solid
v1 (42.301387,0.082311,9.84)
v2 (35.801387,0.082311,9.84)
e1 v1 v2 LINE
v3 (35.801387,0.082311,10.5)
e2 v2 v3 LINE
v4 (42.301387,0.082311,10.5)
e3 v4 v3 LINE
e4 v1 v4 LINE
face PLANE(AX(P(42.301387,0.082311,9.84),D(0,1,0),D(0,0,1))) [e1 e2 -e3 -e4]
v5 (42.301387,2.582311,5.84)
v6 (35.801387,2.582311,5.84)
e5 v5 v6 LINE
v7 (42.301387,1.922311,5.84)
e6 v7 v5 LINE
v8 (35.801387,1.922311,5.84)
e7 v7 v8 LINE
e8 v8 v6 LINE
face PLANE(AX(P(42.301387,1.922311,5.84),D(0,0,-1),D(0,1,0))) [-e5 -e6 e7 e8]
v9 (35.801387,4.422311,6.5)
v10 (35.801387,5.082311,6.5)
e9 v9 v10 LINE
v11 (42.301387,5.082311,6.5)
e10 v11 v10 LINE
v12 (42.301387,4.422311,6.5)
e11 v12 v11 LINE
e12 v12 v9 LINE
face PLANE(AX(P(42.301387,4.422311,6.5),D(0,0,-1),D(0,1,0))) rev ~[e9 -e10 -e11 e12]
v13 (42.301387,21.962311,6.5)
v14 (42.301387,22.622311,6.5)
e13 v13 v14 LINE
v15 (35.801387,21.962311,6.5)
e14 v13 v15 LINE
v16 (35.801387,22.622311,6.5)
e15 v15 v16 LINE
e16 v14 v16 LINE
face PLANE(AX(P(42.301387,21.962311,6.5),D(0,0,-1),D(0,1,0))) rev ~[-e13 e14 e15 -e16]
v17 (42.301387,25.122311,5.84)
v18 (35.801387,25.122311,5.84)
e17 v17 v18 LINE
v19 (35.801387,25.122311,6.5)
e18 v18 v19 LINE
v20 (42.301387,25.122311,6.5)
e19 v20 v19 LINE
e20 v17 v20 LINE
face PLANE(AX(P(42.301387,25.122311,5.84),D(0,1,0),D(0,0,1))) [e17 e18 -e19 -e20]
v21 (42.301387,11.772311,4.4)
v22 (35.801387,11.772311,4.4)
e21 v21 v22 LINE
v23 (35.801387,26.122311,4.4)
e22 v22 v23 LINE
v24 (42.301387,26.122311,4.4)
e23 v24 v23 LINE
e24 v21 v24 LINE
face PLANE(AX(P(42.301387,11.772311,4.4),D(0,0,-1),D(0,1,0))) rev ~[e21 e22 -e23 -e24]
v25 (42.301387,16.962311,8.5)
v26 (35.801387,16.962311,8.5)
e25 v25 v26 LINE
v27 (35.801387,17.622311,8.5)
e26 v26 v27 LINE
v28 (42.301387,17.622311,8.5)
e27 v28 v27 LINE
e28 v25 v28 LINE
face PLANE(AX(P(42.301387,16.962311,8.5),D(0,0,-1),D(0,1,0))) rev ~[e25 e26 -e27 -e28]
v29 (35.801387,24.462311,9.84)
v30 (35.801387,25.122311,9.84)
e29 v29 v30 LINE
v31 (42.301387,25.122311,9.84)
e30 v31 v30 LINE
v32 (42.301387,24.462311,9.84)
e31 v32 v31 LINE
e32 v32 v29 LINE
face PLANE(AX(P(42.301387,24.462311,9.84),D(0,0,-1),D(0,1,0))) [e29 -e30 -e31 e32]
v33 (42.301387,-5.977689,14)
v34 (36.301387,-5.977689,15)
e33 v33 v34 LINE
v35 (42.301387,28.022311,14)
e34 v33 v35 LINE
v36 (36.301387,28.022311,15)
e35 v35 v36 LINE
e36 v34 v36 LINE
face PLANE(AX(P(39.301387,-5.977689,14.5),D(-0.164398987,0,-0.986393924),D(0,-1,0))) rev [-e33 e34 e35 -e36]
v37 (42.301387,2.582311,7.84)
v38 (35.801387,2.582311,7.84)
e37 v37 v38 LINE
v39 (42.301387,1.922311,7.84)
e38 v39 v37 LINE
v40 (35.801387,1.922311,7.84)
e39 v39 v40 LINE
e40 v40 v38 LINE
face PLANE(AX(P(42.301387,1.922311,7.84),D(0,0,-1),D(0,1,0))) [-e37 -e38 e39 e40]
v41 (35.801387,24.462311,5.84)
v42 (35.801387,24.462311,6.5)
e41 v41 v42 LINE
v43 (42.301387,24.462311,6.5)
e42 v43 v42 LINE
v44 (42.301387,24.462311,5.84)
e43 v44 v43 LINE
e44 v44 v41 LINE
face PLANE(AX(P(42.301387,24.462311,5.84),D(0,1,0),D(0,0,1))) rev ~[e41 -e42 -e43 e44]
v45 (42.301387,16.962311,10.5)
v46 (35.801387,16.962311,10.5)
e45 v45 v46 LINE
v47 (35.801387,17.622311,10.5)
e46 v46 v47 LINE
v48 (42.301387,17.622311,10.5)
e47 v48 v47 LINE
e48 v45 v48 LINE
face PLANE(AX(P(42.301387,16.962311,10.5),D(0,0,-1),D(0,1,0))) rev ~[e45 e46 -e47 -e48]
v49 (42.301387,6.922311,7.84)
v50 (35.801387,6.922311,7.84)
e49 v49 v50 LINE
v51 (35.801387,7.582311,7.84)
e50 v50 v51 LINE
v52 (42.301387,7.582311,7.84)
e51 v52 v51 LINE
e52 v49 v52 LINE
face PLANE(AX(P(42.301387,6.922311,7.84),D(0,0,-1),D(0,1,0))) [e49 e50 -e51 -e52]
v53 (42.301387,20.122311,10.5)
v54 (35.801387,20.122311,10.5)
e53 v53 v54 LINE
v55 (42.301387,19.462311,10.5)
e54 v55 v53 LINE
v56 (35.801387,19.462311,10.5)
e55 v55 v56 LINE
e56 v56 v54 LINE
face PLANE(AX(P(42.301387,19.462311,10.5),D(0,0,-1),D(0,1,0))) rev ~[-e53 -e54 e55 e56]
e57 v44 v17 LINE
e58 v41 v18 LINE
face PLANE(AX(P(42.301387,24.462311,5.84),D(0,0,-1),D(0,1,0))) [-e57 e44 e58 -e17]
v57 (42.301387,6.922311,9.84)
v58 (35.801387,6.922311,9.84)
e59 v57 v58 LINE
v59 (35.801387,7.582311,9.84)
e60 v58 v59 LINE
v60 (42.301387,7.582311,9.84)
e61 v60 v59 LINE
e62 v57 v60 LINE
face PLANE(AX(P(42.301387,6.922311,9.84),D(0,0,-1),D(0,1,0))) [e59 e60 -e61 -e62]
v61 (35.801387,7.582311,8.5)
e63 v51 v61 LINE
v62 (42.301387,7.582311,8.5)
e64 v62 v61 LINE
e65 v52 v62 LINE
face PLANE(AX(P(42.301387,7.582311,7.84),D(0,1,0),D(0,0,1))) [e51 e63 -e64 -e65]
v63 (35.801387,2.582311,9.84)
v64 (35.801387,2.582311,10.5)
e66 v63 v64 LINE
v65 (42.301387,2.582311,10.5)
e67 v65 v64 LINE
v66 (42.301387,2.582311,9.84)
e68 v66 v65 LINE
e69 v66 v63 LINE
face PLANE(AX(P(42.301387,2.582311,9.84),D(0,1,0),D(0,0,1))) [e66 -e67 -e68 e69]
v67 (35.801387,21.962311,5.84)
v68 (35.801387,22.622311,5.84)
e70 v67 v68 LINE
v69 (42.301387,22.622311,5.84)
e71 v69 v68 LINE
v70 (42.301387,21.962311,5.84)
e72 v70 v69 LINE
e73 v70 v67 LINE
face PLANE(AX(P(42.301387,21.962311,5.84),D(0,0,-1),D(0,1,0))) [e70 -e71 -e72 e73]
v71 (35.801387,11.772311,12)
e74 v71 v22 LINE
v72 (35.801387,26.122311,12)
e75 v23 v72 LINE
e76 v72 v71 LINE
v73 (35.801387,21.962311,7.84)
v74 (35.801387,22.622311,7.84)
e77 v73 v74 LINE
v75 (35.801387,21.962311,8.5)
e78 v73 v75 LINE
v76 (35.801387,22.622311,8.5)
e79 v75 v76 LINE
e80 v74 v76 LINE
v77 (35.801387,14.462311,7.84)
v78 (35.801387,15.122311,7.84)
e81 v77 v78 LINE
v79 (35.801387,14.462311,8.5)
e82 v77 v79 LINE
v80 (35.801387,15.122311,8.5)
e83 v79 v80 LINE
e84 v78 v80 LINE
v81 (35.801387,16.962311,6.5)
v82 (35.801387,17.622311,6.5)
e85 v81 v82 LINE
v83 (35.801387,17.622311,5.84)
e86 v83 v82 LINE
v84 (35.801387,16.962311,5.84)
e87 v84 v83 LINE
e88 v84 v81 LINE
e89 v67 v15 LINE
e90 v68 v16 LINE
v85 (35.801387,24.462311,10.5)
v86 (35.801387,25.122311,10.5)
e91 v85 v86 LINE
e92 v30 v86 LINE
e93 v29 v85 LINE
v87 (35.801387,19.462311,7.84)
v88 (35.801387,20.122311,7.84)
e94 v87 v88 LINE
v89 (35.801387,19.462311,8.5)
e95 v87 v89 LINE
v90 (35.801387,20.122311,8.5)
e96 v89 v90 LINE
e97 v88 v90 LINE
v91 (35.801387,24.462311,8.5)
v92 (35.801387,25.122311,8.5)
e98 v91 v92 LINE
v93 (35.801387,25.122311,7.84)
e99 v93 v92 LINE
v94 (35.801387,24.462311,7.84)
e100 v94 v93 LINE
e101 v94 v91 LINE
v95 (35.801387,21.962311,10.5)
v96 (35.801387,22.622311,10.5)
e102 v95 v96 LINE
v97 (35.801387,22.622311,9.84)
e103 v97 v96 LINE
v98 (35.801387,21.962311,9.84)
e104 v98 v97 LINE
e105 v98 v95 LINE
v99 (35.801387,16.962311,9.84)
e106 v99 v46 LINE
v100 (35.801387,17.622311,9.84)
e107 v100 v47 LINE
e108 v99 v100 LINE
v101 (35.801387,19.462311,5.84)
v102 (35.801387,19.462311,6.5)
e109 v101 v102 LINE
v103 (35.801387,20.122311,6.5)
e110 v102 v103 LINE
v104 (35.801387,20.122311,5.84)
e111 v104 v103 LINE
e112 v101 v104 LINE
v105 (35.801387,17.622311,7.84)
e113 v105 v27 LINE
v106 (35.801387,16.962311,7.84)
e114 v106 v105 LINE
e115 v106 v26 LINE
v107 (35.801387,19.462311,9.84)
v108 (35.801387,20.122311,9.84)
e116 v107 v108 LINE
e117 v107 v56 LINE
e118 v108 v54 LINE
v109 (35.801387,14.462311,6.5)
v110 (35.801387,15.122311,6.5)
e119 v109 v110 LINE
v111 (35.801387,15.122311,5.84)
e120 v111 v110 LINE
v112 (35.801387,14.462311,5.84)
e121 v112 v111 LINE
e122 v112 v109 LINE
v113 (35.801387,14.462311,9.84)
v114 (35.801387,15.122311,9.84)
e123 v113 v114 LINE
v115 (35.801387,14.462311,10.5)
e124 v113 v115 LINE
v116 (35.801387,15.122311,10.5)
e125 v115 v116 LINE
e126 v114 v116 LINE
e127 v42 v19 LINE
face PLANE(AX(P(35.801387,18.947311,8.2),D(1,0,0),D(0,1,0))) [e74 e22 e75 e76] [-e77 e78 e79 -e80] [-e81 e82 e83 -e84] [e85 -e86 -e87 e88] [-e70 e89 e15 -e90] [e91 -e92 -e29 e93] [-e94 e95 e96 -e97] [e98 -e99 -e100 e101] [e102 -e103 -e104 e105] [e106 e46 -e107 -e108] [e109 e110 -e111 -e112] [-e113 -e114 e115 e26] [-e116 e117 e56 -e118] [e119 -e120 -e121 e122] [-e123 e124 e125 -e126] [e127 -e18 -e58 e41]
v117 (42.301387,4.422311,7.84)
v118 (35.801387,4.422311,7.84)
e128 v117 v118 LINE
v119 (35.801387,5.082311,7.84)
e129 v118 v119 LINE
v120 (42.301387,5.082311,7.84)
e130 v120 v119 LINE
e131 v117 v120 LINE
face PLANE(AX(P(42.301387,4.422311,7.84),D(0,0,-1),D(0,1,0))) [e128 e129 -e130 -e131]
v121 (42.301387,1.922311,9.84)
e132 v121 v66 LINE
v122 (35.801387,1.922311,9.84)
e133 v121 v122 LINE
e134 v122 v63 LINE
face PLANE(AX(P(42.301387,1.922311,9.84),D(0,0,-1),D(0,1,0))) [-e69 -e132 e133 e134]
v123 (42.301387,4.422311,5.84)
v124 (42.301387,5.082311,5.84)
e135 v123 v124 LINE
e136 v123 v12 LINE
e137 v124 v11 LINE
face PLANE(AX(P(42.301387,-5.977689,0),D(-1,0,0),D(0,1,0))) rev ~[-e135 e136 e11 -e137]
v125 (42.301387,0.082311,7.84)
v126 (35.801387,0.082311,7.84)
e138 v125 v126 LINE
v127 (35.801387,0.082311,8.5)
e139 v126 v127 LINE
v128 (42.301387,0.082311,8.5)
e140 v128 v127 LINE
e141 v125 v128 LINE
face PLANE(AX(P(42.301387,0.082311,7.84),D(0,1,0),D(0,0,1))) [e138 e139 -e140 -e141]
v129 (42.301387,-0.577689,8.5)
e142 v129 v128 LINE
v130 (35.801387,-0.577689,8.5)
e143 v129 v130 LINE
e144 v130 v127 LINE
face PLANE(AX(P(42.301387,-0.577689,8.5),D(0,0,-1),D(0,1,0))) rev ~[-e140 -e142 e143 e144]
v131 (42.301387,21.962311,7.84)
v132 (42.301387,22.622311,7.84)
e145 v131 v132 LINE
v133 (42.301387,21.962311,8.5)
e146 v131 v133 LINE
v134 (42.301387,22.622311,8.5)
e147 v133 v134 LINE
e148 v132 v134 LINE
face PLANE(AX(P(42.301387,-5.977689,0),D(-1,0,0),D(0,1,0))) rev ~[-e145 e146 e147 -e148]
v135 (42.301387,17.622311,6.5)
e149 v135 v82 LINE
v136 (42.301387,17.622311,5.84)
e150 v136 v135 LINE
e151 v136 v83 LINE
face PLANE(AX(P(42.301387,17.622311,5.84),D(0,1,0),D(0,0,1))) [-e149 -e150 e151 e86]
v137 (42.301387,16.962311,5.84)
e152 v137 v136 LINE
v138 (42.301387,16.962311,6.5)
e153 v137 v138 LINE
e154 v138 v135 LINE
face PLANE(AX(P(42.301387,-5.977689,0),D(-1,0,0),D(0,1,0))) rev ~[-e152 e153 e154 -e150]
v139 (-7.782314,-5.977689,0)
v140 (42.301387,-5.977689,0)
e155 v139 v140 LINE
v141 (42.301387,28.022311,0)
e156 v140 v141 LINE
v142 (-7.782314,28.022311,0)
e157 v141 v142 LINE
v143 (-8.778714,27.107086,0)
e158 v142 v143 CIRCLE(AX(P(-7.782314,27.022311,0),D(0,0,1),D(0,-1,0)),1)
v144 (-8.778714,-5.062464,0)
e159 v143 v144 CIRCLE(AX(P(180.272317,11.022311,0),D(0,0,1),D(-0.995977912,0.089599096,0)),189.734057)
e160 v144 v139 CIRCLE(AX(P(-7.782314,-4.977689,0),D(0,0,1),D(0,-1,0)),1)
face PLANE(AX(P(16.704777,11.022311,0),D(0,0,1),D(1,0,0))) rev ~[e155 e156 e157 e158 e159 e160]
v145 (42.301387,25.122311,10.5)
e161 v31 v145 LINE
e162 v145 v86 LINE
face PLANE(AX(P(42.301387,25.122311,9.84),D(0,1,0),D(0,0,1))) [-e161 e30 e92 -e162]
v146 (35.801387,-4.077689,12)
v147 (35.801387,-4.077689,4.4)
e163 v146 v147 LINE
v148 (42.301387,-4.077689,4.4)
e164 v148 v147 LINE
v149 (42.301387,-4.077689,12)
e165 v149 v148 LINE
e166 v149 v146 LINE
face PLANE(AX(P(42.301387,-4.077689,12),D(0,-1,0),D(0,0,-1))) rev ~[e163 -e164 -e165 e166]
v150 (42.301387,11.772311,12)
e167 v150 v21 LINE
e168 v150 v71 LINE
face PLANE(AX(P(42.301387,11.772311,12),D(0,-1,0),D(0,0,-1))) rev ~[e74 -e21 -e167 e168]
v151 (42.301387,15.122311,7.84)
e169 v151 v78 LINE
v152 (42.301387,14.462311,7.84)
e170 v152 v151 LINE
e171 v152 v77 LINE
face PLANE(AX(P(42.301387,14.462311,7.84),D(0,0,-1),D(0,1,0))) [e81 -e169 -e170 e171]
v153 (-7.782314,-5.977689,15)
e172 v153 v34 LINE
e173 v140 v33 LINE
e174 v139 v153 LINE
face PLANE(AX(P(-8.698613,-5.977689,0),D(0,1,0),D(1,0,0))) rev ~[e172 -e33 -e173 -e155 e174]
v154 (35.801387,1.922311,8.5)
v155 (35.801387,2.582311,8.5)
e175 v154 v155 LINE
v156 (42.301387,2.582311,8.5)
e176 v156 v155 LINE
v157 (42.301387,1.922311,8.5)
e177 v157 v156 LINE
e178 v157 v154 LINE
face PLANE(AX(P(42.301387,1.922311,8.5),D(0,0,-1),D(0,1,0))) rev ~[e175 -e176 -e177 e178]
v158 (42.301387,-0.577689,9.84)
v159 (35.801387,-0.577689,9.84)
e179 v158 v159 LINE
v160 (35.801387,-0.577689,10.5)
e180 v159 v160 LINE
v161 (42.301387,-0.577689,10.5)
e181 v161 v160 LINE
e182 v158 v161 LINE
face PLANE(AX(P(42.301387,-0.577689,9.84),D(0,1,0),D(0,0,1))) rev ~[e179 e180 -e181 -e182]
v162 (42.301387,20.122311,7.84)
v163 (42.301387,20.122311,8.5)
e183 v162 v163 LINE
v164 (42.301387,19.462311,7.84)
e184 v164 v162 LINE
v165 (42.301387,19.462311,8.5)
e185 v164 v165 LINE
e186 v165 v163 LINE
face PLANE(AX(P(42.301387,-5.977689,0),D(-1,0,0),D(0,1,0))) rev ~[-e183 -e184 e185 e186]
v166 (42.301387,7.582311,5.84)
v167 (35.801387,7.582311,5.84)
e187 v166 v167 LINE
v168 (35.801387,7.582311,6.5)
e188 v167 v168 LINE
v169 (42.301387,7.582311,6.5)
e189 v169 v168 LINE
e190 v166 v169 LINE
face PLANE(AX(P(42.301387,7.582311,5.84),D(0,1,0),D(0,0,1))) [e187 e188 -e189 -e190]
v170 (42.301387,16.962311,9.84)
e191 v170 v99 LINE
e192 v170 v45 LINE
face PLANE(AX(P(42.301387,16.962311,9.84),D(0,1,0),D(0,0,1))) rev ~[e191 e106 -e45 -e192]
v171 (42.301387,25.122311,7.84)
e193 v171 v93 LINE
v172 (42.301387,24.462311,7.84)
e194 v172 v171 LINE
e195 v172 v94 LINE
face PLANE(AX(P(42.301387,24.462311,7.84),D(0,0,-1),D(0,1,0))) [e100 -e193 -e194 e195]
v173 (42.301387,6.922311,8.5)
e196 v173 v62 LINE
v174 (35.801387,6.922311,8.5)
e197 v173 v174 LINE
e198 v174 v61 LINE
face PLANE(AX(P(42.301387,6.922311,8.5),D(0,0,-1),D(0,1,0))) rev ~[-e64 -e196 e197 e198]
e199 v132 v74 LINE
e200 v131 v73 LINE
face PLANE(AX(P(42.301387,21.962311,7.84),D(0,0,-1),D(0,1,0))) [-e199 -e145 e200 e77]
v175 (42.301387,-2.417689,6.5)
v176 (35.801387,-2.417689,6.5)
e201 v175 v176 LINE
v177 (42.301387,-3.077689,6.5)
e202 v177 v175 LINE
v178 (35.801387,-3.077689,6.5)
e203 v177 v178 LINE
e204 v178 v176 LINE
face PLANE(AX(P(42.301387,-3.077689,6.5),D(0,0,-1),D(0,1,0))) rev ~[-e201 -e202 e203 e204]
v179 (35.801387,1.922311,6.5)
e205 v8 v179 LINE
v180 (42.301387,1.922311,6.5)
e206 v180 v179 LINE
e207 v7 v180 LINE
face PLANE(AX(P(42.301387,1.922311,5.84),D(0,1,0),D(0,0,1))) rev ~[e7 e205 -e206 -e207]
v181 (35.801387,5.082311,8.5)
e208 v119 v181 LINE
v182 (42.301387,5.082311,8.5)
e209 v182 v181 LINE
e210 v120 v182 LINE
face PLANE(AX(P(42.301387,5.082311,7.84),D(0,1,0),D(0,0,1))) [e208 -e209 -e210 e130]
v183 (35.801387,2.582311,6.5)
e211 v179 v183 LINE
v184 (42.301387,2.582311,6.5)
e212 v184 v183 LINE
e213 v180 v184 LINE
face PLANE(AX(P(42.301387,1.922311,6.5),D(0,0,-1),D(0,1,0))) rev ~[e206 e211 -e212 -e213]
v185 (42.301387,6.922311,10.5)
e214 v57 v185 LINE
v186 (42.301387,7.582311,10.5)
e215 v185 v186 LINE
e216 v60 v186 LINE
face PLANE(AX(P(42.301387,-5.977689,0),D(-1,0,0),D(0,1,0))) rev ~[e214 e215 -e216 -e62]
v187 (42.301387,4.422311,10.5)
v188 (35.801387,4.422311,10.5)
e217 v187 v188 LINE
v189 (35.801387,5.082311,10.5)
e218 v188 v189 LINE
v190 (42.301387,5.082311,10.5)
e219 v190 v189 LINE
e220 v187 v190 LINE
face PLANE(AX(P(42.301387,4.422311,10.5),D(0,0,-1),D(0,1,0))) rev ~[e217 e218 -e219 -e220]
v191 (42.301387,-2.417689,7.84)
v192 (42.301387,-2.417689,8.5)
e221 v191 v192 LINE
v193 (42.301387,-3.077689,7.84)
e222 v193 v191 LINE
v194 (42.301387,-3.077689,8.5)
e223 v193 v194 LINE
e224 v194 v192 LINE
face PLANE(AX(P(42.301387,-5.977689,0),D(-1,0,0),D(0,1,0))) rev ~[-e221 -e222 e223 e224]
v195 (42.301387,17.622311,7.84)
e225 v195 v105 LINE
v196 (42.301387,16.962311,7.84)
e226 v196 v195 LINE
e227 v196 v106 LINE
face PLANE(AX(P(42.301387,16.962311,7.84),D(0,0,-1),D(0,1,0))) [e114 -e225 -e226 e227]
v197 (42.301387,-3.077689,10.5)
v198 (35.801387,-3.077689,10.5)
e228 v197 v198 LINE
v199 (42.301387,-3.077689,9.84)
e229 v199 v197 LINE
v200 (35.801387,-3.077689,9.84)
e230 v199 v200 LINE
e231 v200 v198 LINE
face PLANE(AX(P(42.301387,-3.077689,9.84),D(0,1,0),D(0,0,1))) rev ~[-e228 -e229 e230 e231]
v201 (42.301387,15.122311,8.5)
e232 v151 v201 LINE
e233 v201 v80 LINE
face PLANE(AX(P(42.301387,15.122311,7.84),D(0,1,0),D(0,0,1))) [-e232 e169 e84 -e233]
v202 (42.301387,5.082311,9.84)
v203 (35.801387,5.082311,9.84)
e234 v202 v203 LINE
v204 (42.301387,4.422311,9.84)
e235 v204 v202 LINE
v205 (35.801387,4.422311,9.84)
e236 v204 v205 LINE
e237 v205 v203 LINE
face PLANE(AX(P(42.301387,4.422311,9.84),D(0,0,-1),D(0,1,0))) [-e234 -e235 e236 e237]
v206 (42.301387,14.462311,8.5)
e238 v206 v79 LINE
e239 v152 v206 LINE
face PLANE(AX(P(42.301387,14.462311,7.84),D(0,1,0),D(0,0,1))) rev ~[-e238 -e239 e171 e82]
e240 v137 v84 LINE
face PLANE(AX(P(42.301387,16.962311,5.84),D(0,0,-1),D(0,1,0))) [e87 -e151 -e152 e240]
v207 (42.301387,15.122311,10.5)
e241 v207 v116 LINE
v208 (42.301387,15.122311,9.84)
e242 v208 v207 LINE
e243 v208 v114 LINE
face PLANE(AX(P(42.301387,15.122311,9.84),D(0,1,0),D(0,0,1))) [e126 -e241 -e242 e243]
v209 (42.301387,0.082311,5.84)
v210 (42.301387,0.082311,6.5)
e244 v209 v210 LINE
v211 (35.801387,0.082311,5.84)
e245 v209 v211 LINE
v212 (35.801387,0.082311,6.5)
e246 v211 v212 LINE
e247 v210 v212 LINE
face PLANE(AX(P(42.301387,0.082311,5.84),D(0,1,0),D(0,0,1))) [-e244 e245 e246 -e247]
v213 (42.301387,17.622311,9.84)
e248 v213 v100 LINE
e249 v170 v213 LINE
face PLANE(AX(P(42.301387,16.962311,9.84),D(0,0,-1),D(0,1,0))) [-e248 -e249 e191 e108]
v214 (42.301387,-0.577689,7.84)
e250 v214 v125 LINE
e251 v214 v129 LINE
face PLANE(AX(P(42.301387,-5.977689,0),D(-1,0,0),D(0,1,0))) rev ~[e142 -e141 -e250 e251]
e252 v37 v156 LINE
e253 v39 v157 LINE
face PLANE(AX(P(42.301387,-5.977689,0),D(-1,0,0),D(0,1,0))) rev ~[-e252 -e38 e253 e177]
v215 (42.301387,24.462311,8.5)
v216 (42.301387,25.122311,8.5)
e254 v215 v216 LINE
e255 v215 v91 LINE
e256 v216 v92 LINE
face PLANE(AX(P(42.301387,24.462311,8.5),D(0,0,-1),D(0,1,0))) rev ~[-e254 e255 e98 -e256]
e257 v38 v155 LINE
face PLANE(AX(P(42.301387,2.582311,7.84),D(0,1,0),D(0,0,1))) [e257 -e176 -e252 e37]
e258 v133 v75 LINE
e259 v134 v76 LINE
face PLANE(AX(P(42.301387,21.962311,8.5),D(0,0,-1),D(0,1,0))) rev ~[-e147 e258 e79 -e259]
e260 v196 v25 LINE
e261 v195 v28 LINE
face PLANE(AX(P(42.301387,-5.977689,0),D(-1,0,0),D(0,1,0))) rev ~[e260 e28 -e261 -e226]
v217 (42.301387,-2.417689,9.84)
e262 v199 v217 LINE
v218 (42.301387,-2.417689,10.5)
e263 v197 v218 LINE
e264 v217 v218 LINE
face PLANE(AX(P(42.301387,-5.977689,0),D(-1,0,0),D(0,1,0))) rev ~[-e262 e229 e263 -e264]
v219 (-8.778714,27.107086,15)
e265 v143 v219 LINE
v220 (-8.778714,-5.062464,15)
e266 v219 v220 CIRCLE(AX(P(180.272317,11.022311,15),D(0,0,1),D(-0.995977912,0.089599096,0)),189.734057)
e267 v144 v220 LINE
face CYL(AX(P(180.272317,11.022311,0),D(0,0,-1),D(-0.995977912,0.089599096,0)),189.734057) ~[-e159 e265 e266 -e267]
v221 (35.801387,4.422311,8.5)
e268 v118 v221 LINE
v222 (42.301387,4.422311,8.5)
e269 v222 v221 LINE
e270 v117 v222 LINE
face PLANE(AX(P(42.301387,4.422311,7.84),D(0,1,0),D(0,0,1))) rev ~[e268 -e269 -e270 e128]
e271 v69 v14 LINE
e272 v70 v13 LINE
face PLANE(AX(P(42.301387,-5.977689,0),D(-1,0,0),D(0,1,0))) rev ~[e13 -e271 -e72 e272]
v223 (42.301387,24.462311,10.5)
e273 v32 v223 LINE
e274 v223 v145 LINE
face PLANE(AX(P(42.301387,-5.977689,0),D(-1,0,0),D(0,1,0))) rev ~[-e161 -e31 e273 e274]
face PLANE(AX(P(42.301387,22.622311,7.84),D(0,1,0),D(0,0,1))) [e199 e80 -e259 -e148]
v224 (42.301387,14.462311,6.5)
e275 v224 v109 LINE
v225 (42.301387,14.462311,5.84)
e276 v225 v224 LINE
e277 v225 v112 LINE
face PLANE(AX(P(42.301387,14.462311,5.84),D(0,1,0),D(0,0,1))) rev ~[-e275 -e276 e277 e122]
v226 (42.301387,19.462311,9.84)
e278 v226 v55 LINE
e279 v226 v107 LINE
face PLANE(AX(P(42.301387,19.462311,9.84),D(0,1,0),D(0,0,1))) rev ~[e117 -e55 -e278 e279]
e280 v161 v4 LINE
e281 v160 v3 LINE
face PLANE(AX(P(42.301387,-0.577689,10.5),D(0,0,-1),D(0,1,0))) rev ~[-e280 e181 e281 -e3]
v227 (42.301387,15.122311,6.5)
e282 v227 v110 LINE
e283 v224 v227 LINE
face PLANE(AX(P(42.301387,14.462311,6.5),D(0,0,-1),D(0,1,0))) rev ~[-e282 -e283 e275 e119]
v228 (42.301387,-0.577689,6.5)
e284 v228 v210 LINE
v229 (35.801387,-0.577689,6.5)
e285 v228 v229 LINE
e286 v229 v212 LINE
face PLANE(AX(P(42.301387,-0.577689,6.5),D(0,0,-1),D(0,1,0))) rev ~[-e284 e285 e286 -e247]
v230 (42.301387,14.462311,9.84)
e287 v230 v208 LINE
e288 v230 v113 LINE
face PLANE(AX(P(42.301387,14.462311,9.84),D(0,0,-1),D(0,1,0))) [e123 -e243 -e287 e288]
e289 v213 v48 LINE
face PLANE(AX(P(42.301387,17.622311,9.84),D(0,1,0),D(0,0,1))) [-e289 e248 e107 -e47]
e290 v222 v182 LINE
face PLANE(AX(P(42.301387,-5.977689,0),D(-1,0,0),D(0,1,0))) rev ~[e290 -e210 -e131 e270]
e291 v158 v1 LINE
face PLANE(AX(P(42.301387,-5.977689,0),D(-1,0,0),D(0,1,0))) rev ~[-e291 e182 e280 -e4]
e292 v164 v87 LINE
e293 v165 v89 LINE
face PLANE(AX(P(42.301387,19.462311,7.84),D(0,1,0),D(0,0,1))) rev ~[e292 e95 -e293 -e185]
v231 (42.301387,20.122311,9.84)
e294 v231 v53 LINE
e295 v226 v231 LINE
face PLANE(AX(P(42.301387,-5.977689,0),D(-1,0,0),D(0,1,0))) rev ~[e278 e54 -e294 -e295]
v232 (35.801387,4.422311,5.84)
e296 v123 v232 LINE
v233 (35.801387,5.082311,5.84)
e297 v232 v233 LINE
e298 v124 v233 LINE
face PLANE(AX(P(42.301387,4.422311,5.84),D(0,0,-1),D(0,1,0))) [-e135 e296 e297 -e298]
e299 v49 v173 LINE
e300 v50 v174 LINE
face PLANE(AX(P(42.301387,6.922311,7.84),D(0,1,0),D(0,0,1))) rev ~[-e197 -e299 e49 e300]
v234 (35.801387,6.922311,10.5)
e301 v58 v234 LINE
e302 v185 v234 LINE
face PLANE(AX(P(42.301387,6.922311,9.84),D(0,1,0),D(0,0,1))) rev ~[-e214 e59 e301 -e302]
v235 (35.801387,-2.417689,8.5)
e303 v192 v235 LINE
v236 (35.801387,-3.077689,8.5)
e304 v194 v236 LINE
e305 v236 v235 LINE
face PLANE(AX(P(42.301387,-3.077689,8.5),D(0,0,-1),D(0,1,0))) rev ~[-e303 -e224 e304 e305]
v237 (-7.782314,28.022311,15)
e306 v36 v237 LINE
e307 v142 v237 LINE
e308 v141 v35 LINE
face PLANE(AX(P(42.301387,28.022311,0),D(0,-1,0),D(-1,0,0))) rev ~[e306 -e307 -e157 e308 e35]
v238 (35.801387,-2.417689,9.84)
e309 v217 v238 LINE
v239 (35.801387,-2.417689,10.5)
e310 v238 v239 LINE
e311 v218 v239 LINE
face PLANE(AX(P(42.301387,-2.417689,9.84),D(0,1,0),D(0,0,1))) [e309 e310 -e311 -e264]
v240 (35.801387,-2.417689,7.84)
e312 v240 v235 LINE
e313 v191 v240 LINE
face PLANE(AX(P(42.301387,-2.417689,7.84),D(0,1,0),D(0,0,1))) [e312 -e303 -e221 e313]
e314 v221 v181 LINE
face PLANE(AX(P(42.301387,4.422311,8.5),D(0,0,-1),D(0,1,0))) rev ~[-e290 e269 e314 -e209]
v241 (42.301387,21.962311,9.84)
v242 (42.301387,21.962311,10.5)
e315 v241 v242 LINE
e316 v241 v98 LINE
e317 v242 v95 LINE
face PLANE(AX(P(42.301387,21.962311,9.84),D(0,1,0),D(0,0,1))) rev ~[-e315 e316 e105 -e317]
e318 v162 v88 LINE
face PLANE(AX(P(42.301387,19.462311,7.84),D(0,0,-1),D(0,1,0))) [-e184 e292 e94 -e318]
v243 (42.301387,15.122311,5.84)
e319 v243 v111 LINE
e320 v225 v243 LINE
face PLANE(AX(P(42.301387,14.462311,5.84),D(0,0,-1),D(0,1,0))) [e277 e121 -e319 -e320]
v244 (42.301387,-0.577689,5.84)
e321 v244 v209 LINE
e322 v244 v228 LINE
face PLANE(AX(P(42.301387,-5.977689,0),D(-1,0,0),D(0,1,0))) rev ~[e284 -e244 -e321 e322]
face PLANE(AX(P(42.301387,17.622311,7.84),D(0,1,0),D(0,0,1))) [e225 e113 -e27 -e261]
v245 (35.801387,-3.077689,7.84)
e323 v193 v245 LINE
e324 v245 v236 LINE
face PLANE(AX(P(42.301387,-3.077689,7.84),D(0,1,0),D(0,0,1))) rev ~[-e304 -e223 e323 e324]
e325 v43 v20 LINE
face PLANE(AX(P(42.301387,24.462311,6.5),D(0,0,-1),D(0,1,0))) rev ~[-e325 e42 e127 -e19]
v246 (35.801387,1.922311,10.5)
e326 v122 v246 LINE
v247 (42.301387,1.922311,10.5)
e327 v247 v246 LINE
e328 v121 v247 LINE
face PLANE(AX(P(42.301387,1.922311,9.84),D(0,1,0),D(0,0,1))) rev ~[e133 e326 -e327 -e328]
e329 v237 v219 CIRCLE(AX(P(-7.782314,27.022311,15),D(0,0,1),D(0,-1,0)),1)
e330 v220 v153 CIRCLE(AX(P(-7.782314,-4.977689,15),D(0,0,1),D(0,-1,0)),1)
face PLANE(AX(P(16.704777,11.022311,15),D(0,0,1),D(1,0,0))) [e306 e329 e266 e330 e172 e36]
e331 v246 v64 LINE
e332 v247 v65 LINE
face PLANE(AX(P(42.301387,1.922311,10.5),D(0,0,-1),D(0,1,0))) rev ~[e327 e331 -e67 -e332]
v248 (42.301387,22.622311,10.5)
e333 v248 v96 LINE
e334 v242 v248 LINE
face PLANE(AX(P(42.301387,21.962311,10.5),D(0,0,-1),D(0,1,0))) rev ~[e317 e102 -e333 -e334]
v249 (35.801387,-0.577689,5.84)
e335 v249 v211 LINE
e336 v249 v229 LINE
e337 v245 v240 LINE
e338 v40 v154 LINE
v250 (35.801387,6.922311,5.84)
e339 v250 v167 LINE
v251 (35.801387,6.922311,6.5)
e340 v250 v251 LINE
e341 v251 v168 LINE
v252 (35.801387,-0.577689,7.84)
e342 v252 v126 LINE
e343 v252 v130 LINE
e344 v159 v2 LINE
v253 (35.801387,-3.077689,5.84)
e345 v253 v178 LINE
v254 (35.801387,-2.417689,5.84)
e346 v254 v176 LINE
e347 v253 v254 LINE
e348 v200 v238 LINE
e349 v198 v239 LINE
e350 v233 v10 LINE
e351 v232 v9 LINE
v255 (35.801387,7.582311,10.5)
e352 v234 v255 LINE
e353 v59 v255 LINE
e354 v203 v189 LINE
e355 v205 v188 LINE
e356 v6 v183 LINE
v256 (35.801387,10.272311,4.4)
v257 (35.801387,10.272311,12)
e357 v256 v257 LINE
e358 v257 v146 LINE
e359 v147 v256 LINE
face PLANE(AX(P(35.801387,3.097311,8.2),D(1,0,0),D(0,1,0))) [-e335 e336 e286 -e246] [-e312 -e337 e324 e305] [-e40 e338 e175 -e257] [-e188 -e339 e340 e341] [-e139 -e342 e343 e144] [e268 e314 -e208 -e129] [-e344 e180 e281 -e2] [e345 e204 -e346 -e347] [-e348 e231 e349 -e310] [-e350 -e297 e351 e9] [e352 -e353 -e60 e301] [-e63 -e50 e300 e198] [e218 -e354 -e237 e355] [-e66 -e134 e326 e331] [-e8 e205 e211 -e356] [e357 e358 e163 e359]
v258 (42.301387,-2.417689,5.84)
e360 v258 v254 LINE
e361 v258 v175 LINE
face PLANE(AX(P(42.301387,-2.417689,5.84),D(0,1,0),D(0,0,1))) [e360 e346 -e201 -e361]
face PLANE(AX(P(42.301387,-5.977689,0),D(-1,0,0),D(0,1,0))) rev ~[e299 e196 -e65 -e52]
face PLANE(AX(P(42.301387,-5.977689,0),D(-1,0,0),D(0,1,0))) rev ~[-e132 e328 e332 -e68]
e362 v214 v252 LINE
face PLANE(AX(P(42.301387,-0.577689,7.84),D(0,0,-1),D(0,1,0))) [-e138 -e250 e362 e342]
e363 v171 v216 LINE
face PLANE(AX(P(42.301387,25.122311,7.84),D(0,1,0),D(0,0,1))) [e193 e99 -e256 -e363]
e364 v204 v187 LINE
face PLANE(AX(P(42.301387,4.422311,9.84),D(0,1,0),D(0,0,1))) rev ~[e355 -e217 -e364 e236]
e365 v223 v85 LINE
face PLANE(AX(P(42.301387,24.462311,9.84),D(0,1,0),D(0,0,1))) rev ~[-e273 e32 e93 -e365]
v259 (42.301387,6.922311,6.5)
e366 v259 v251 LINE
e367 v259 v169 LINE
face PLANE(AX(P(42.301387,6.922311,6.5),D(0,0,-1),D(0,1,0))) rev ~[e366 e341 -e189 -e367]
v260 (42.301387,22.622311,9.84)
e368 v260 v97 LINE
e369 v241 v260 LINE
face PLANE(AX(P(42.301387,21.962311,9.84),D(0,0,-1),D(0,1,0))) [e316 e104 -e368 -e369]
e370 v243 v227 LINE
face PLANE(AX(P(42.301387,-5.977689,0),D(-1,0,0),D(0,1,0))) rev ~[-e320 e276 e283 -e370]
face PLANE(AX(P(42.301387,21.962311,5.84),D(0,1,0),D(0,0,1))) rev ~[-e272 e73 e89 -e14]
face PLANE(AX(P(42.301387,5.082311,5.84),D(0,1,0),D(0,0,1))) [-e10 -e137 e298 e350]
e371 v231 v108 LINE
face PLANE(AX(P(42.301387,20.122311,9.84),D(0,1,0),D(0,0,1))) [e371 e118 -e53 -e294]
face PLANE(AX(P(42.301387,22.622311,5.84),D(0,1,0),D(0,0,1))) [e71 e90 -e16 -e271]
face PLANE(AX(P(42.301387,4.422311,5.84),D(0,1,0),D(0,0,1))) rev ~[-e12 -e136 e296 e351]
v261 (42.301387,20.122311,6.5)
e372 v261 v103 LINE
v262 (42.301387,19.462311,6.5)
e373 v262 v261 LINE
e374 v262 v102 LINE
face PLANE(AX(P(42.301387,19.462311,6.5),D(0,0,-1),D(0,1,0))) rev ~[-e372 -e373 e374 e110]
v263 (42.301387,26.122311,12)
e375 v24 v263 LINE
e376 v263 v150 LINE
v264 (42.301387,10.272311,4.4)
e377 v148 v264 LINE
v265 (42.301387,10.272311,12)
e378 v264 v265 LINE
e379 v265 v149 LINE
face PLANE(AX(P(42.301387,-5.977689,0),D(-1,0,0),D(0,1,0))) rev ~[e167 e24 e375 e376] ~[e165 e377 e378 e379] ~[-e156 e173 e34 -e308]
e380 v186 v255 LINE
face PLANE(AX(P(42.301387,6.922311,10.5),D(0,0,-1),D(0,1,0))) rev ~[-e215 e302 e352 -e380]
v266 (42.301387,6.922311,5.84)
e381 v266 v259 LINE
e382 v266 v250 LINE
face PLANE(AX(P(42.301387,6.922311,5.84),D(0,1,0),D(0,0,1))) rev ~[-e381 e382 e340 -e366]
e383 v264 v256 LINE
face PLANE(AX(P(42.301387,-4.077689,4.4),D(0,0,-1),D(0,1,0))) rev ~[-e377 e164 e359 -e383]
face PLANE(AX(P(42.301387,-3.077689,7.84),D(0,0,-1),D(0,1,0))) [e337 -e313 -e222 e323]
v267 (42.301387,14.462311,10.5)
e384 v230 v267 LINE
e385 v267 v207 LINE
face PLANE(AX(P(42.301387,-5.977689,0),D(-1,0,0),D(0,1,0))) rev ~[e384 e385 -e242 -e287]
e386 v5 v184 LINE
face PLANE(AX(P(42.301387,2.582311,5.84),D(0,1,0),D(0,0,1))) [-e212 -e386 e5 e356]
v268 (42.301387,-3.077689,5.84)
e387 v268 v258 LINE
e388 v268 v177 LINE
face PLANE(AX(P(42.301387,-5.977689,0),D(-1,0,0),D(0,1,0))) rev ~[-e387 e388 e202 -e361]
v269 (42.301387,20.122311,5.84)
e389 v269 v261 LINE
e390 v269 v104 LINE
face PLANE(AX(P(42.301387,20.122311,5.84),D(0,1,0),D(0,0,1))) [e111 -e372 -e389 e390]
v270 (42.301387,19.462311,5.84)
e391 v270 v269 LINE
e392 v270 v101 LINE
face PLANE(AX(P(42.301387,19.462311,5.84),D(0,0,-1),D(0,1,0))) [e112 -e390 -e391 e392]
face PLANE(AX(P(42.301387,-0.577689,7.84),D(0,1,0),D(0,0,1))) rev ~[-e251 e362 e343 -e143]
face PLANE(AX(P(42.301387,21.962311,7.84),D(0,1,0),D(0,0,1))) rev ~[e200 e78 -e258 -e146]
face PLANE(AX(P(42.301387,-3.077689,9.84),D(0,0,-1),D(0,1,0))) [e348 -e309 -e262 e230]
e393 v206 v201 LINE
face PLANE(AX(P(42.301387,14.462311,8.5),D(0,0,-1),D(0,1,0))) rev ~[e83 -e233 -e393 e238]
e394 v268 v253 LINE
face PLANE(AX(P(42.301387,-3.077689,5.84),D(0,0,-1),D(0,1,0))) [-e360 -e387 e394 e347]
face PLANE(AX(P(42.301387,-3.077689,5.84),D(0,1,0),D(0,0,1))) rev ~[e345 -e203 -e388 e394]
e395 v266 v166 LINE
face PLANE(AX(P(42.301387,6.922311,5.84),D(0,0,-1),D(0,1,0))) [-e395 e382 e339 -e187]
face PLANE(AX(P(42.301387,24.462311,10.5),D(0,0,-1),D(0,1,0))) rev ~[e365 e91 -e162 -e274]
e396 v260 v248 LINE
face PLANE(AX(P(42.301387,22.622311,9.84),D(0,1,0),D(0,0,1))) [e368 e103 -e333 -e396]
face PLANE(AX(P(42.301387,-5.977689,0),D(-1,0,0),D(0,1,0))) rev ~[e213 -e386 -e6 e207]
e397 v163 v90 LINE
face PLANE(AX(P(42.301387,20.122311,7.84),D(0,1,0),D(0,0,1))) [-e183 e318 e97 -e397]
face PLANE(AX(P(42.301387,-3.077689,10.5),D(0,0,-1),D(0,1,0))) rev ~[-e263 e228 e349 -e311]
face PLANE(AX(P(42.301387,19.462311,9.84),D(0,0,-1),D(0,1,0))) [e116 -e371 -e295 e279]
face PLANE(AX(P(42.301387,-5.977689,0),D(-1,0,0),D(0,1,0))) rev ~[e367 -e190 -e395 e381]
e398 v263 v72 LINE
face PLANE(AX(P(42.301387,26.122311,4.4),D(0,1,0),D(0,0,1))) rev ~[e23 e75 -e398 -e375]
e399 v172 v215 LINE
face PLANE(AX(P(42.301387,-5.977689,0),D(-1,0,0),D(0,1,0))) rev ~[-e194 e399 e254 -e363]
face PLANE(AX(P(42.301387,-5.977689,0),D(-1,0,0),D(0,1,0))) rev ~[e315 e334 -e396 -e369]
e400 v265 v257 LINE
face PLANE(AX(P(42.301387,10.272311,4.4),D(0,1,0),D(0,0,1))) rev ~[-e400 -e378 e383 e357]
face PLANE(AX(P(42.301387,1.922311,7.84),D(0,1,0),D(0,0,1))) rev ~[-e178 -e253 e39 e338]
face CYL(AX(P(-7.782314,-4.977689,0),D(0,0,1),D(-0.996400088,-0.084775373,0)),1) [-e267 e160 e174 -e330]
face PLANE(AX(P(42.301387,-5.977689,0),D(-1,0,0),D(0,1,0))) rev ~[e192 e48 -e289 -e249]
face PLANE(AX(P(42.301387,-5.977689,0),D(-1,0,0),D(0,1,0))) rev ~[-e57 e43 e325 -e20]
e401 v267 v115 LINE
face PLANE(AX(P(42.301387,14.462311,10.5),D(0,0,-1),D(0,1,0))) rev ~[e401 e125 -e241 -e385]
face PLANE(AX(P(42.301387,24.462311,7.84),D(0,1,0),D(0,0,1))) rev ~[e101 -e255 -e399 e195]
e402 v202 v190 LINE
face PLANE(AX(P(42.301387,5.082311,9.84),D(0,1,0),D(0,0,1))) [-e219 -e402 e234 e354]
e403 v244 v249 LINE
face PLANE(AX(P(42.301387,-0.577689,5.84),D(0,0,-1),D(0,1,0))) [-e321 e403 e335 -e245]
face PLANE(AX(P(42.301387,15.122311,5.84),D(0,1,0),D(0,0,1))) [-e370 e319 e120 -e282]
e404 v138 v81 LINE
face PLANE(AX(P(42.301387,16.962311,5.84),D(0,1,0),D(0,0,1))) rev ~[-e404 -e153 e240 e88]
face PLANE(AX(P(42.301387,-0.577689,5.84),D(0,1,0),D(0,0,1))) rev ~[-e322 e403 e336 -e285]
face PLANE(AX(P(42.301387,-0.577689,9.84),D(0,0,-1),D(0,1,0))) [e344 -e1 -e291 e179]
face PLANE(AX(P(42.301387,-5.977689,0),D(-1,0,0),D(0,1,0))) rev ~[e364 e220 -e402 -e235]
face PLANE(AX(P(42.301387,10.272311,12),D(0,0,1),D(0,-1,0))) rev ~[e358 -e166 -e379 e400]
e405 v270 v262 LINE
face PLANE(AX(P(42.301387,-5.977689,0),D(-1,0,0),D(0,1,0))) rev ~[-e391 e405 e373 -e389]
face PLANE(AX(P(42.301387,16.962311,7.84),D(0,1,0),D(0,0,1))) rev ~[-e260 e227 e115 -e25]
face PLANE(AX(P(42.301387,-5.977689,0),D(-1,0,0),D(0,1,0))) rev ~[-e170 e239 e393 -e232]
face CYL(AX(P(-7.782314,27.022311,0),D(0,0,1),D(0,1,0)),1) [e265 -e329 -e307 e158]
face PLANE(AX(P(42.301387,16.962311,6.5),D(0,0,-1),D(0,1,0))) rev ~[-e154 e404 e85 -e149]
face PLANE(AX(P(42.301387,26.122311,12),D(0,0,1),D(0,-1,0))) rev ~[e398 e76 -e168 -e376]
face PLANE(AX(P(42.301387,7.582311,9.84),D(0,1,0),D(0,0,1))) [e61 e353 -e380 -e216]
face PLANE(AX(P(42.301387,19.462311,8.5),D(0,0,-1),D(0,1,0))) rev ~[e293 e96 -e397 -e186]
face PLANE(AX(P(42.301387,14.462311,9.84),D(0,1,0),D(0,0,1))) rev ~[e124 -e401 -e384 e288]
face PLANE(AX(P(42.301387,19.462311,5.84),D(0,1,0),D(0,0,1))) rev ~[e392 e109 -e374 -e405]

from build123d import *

# Parameters (mm, degrees)
F1_DEPTH = 15
F2_SIZE2 = 6
F2_SIZE  = 1
F3_W     = 0.66
F3_H     = 0.66
F4_DEPTH = 6.5
F5_R     = 1


with BuildPart() as f1:
    # F0 (on Top) → F1 (new body)
    with BuildSketch(Plane.XY):
        with BuildLine():
            Line((42.301387, 28.022311), (-8.698613, 28.022311))
            ThreePointArc((-8.698613, 28.022311), (-9.46174, 11.022311), (-8.698613, -5.977689))
            Line((-8.698613, -5.977689), (42.301387, -5.977689))
            Line((42.301387, -5.977689), (42.301387, 28.022311))
        make_face()
    extrude(amount=F1_DEPTH)

    # F2
    f2_edges = [f1.edges().sort_by_distance(p)[0] for p in [
        (42.301387, 11.022311, 15),
    ]]
    chamfer(f2_edges, length=F2_SIZE, length2=F2_SIZE2)

    # F3 (on face) → F4 (cut)
    with BuildSketch(Plane.YZ.offset(42.301387)):
        Polygon((9.922311, 12), (-4.077689, 12), (-4.077689, 4.4), (9.922311, 4.4), (10.272311, 4.4), (10.272311, 12), align=None)
        with Locations((-2.747689, 6.17)):
            Rectangle(F3_W, F3_H, mode=Mode.SUBTRACT)
        with Locations((-0.247689, 6.17)):
            Rectangle(F3_W, F3_H, mode=Mode.SUBTRACT)
        with Locations((2.252311, 6.17)):
            Rectangle(F3_W, F3_H, mode=Mode.SUBTRACT)
        with Locations((4.752311, 6.17)):
            Rectangle(F3_W, F3_H, mode=Mode.SUBTRACT)
        with Locations((7.252311, 6.17)):
            Rectangle(F3_W, F3_H, mode=Mode.SUBTRACT)
        with Locations((-2.747689, 8.17)):
            Rectangle(F3_W, F3_H, mode=Mode.SUBTRACT)
        with Locations((-0.247689, 8.17)):
            Rectangle(F3_W, F3_H, mode=Mode.SUBTRACT)
        with Locations((2.252311, 8.17)):
            Rectangle(F3_W, F3_H, mode=Mode.SUBTRACT)
        with Locations((4.752311, 8.17)):
            Rectangle(F3_W, F3_H, mode=Mode.SUBTRACT)
        with Locations((7.252311, 8.17)):
            Rectangle(F3_W, F3_H, mode=Mode.SUBTRACT)
        with Locations((-2.747689, 10.17)):
            Rectangle(F3_W, F3_H, mode=Mode.SUBTRACT)
        with Locations((-0.247689, 10.17)):
            Rectangle(F3_W, F3_H, mode=Mode.SUBTRACT)
        with Locations((2.252311, 10.17)):
            Rectangle(F3_W, F3_H, mode=Mode.SUBTRACT)
        with Locations((4.752311, 10.17)):
            Rectangle(F3_W, F3_H, mode=Mode.SUBTRACT)
        with Locations((7.252311, 10.17)):
            Rectangle(F3_W, F3_H, mode=Mode.SUBTRACT)
        Polygon((12.122311, 12), (11.772311, 12), (11.772311, 4.4), (12.122311, 4.4), (26.122311, 4.4), (26.122311, 12), align=None)
        with Locations((14.792311, 6.17)):
            Rectangle(F3_W, F3_H, mode=Mode.SUBTRACT)
        with Locations((17.292311, 6.17)):
            Rectangle(F3_W, F3_H, mode=Mode.SUBTRACT)
        with Locations((19.792311, 6.17)):
            Rectangle(F3_W, F3_H, mode=Mode.SUBTRACT)
        with Locations((22.292311, 6.17)):
            Rectangle(F3_W, F3_H, mode=Mode.SUBTRACT)
        with Locations((24.792311, 6.17)):
            Rectangle(F3_W, F3_H, mode=Mode.SUBTRACT)
        with Locations((14.792311, 8.17)):
            Rectangle(F3_W, F3_H, mode=Mode.SUBTRACT)
        with Locations((17.292311, 8.17)):
            Rectangle(F3_W, F3_H, mode=Mode.SUBTRACT)
        with Locations((19.792311, 8.17)):
            Rectangle(F3_W, F3_H, mode=Mode.SUBTRACT)
        with Locations((22.292311, 8.17)):
            Rectangle(F3_W, F3_H, mode=Mode.SUBTRACT)
        with Locations((24.792311, 8.17)):
            Rectangle(F3_W, F3_H, mode=Mode.SUBTRACT)
        with Locations((14.792311, 10.17)):
            Rectangle(F3_W, F3_H, mode=Mode.SUBTRACT)
        with Locations((17.292311, 10.17)):
            Rectangle(F3_W, F3_H, mode=Mode.SUBTRACT)
        with Locations((19.792311, 10.17)):
            Rectangle(F3_W, F3_H, mode=Mode.SUBTRACT)
        with Locations((22.292311, 10.17)):
            Rectangle(F3_W, F3_H, mode=Mode.SUBTRACT)
        with Locations((24.792311, 10.17)):
            Rectangle(F3_W, F3_H, mode=Mode.SUBTRACT)
    extrude(amount=-F4_DEPTH, mode=Mode.SUBTRACT)

    # F5
    f5_edges = [f1.edges().sort_by_distance(p)[0] for p in [
        (-8.698613, -5.977689, 7.5),
        (-8.698613, 28.022311, 7.5),
    ]]
    fillet(f5_edges, radius=F5_R)


solid = f1.part
